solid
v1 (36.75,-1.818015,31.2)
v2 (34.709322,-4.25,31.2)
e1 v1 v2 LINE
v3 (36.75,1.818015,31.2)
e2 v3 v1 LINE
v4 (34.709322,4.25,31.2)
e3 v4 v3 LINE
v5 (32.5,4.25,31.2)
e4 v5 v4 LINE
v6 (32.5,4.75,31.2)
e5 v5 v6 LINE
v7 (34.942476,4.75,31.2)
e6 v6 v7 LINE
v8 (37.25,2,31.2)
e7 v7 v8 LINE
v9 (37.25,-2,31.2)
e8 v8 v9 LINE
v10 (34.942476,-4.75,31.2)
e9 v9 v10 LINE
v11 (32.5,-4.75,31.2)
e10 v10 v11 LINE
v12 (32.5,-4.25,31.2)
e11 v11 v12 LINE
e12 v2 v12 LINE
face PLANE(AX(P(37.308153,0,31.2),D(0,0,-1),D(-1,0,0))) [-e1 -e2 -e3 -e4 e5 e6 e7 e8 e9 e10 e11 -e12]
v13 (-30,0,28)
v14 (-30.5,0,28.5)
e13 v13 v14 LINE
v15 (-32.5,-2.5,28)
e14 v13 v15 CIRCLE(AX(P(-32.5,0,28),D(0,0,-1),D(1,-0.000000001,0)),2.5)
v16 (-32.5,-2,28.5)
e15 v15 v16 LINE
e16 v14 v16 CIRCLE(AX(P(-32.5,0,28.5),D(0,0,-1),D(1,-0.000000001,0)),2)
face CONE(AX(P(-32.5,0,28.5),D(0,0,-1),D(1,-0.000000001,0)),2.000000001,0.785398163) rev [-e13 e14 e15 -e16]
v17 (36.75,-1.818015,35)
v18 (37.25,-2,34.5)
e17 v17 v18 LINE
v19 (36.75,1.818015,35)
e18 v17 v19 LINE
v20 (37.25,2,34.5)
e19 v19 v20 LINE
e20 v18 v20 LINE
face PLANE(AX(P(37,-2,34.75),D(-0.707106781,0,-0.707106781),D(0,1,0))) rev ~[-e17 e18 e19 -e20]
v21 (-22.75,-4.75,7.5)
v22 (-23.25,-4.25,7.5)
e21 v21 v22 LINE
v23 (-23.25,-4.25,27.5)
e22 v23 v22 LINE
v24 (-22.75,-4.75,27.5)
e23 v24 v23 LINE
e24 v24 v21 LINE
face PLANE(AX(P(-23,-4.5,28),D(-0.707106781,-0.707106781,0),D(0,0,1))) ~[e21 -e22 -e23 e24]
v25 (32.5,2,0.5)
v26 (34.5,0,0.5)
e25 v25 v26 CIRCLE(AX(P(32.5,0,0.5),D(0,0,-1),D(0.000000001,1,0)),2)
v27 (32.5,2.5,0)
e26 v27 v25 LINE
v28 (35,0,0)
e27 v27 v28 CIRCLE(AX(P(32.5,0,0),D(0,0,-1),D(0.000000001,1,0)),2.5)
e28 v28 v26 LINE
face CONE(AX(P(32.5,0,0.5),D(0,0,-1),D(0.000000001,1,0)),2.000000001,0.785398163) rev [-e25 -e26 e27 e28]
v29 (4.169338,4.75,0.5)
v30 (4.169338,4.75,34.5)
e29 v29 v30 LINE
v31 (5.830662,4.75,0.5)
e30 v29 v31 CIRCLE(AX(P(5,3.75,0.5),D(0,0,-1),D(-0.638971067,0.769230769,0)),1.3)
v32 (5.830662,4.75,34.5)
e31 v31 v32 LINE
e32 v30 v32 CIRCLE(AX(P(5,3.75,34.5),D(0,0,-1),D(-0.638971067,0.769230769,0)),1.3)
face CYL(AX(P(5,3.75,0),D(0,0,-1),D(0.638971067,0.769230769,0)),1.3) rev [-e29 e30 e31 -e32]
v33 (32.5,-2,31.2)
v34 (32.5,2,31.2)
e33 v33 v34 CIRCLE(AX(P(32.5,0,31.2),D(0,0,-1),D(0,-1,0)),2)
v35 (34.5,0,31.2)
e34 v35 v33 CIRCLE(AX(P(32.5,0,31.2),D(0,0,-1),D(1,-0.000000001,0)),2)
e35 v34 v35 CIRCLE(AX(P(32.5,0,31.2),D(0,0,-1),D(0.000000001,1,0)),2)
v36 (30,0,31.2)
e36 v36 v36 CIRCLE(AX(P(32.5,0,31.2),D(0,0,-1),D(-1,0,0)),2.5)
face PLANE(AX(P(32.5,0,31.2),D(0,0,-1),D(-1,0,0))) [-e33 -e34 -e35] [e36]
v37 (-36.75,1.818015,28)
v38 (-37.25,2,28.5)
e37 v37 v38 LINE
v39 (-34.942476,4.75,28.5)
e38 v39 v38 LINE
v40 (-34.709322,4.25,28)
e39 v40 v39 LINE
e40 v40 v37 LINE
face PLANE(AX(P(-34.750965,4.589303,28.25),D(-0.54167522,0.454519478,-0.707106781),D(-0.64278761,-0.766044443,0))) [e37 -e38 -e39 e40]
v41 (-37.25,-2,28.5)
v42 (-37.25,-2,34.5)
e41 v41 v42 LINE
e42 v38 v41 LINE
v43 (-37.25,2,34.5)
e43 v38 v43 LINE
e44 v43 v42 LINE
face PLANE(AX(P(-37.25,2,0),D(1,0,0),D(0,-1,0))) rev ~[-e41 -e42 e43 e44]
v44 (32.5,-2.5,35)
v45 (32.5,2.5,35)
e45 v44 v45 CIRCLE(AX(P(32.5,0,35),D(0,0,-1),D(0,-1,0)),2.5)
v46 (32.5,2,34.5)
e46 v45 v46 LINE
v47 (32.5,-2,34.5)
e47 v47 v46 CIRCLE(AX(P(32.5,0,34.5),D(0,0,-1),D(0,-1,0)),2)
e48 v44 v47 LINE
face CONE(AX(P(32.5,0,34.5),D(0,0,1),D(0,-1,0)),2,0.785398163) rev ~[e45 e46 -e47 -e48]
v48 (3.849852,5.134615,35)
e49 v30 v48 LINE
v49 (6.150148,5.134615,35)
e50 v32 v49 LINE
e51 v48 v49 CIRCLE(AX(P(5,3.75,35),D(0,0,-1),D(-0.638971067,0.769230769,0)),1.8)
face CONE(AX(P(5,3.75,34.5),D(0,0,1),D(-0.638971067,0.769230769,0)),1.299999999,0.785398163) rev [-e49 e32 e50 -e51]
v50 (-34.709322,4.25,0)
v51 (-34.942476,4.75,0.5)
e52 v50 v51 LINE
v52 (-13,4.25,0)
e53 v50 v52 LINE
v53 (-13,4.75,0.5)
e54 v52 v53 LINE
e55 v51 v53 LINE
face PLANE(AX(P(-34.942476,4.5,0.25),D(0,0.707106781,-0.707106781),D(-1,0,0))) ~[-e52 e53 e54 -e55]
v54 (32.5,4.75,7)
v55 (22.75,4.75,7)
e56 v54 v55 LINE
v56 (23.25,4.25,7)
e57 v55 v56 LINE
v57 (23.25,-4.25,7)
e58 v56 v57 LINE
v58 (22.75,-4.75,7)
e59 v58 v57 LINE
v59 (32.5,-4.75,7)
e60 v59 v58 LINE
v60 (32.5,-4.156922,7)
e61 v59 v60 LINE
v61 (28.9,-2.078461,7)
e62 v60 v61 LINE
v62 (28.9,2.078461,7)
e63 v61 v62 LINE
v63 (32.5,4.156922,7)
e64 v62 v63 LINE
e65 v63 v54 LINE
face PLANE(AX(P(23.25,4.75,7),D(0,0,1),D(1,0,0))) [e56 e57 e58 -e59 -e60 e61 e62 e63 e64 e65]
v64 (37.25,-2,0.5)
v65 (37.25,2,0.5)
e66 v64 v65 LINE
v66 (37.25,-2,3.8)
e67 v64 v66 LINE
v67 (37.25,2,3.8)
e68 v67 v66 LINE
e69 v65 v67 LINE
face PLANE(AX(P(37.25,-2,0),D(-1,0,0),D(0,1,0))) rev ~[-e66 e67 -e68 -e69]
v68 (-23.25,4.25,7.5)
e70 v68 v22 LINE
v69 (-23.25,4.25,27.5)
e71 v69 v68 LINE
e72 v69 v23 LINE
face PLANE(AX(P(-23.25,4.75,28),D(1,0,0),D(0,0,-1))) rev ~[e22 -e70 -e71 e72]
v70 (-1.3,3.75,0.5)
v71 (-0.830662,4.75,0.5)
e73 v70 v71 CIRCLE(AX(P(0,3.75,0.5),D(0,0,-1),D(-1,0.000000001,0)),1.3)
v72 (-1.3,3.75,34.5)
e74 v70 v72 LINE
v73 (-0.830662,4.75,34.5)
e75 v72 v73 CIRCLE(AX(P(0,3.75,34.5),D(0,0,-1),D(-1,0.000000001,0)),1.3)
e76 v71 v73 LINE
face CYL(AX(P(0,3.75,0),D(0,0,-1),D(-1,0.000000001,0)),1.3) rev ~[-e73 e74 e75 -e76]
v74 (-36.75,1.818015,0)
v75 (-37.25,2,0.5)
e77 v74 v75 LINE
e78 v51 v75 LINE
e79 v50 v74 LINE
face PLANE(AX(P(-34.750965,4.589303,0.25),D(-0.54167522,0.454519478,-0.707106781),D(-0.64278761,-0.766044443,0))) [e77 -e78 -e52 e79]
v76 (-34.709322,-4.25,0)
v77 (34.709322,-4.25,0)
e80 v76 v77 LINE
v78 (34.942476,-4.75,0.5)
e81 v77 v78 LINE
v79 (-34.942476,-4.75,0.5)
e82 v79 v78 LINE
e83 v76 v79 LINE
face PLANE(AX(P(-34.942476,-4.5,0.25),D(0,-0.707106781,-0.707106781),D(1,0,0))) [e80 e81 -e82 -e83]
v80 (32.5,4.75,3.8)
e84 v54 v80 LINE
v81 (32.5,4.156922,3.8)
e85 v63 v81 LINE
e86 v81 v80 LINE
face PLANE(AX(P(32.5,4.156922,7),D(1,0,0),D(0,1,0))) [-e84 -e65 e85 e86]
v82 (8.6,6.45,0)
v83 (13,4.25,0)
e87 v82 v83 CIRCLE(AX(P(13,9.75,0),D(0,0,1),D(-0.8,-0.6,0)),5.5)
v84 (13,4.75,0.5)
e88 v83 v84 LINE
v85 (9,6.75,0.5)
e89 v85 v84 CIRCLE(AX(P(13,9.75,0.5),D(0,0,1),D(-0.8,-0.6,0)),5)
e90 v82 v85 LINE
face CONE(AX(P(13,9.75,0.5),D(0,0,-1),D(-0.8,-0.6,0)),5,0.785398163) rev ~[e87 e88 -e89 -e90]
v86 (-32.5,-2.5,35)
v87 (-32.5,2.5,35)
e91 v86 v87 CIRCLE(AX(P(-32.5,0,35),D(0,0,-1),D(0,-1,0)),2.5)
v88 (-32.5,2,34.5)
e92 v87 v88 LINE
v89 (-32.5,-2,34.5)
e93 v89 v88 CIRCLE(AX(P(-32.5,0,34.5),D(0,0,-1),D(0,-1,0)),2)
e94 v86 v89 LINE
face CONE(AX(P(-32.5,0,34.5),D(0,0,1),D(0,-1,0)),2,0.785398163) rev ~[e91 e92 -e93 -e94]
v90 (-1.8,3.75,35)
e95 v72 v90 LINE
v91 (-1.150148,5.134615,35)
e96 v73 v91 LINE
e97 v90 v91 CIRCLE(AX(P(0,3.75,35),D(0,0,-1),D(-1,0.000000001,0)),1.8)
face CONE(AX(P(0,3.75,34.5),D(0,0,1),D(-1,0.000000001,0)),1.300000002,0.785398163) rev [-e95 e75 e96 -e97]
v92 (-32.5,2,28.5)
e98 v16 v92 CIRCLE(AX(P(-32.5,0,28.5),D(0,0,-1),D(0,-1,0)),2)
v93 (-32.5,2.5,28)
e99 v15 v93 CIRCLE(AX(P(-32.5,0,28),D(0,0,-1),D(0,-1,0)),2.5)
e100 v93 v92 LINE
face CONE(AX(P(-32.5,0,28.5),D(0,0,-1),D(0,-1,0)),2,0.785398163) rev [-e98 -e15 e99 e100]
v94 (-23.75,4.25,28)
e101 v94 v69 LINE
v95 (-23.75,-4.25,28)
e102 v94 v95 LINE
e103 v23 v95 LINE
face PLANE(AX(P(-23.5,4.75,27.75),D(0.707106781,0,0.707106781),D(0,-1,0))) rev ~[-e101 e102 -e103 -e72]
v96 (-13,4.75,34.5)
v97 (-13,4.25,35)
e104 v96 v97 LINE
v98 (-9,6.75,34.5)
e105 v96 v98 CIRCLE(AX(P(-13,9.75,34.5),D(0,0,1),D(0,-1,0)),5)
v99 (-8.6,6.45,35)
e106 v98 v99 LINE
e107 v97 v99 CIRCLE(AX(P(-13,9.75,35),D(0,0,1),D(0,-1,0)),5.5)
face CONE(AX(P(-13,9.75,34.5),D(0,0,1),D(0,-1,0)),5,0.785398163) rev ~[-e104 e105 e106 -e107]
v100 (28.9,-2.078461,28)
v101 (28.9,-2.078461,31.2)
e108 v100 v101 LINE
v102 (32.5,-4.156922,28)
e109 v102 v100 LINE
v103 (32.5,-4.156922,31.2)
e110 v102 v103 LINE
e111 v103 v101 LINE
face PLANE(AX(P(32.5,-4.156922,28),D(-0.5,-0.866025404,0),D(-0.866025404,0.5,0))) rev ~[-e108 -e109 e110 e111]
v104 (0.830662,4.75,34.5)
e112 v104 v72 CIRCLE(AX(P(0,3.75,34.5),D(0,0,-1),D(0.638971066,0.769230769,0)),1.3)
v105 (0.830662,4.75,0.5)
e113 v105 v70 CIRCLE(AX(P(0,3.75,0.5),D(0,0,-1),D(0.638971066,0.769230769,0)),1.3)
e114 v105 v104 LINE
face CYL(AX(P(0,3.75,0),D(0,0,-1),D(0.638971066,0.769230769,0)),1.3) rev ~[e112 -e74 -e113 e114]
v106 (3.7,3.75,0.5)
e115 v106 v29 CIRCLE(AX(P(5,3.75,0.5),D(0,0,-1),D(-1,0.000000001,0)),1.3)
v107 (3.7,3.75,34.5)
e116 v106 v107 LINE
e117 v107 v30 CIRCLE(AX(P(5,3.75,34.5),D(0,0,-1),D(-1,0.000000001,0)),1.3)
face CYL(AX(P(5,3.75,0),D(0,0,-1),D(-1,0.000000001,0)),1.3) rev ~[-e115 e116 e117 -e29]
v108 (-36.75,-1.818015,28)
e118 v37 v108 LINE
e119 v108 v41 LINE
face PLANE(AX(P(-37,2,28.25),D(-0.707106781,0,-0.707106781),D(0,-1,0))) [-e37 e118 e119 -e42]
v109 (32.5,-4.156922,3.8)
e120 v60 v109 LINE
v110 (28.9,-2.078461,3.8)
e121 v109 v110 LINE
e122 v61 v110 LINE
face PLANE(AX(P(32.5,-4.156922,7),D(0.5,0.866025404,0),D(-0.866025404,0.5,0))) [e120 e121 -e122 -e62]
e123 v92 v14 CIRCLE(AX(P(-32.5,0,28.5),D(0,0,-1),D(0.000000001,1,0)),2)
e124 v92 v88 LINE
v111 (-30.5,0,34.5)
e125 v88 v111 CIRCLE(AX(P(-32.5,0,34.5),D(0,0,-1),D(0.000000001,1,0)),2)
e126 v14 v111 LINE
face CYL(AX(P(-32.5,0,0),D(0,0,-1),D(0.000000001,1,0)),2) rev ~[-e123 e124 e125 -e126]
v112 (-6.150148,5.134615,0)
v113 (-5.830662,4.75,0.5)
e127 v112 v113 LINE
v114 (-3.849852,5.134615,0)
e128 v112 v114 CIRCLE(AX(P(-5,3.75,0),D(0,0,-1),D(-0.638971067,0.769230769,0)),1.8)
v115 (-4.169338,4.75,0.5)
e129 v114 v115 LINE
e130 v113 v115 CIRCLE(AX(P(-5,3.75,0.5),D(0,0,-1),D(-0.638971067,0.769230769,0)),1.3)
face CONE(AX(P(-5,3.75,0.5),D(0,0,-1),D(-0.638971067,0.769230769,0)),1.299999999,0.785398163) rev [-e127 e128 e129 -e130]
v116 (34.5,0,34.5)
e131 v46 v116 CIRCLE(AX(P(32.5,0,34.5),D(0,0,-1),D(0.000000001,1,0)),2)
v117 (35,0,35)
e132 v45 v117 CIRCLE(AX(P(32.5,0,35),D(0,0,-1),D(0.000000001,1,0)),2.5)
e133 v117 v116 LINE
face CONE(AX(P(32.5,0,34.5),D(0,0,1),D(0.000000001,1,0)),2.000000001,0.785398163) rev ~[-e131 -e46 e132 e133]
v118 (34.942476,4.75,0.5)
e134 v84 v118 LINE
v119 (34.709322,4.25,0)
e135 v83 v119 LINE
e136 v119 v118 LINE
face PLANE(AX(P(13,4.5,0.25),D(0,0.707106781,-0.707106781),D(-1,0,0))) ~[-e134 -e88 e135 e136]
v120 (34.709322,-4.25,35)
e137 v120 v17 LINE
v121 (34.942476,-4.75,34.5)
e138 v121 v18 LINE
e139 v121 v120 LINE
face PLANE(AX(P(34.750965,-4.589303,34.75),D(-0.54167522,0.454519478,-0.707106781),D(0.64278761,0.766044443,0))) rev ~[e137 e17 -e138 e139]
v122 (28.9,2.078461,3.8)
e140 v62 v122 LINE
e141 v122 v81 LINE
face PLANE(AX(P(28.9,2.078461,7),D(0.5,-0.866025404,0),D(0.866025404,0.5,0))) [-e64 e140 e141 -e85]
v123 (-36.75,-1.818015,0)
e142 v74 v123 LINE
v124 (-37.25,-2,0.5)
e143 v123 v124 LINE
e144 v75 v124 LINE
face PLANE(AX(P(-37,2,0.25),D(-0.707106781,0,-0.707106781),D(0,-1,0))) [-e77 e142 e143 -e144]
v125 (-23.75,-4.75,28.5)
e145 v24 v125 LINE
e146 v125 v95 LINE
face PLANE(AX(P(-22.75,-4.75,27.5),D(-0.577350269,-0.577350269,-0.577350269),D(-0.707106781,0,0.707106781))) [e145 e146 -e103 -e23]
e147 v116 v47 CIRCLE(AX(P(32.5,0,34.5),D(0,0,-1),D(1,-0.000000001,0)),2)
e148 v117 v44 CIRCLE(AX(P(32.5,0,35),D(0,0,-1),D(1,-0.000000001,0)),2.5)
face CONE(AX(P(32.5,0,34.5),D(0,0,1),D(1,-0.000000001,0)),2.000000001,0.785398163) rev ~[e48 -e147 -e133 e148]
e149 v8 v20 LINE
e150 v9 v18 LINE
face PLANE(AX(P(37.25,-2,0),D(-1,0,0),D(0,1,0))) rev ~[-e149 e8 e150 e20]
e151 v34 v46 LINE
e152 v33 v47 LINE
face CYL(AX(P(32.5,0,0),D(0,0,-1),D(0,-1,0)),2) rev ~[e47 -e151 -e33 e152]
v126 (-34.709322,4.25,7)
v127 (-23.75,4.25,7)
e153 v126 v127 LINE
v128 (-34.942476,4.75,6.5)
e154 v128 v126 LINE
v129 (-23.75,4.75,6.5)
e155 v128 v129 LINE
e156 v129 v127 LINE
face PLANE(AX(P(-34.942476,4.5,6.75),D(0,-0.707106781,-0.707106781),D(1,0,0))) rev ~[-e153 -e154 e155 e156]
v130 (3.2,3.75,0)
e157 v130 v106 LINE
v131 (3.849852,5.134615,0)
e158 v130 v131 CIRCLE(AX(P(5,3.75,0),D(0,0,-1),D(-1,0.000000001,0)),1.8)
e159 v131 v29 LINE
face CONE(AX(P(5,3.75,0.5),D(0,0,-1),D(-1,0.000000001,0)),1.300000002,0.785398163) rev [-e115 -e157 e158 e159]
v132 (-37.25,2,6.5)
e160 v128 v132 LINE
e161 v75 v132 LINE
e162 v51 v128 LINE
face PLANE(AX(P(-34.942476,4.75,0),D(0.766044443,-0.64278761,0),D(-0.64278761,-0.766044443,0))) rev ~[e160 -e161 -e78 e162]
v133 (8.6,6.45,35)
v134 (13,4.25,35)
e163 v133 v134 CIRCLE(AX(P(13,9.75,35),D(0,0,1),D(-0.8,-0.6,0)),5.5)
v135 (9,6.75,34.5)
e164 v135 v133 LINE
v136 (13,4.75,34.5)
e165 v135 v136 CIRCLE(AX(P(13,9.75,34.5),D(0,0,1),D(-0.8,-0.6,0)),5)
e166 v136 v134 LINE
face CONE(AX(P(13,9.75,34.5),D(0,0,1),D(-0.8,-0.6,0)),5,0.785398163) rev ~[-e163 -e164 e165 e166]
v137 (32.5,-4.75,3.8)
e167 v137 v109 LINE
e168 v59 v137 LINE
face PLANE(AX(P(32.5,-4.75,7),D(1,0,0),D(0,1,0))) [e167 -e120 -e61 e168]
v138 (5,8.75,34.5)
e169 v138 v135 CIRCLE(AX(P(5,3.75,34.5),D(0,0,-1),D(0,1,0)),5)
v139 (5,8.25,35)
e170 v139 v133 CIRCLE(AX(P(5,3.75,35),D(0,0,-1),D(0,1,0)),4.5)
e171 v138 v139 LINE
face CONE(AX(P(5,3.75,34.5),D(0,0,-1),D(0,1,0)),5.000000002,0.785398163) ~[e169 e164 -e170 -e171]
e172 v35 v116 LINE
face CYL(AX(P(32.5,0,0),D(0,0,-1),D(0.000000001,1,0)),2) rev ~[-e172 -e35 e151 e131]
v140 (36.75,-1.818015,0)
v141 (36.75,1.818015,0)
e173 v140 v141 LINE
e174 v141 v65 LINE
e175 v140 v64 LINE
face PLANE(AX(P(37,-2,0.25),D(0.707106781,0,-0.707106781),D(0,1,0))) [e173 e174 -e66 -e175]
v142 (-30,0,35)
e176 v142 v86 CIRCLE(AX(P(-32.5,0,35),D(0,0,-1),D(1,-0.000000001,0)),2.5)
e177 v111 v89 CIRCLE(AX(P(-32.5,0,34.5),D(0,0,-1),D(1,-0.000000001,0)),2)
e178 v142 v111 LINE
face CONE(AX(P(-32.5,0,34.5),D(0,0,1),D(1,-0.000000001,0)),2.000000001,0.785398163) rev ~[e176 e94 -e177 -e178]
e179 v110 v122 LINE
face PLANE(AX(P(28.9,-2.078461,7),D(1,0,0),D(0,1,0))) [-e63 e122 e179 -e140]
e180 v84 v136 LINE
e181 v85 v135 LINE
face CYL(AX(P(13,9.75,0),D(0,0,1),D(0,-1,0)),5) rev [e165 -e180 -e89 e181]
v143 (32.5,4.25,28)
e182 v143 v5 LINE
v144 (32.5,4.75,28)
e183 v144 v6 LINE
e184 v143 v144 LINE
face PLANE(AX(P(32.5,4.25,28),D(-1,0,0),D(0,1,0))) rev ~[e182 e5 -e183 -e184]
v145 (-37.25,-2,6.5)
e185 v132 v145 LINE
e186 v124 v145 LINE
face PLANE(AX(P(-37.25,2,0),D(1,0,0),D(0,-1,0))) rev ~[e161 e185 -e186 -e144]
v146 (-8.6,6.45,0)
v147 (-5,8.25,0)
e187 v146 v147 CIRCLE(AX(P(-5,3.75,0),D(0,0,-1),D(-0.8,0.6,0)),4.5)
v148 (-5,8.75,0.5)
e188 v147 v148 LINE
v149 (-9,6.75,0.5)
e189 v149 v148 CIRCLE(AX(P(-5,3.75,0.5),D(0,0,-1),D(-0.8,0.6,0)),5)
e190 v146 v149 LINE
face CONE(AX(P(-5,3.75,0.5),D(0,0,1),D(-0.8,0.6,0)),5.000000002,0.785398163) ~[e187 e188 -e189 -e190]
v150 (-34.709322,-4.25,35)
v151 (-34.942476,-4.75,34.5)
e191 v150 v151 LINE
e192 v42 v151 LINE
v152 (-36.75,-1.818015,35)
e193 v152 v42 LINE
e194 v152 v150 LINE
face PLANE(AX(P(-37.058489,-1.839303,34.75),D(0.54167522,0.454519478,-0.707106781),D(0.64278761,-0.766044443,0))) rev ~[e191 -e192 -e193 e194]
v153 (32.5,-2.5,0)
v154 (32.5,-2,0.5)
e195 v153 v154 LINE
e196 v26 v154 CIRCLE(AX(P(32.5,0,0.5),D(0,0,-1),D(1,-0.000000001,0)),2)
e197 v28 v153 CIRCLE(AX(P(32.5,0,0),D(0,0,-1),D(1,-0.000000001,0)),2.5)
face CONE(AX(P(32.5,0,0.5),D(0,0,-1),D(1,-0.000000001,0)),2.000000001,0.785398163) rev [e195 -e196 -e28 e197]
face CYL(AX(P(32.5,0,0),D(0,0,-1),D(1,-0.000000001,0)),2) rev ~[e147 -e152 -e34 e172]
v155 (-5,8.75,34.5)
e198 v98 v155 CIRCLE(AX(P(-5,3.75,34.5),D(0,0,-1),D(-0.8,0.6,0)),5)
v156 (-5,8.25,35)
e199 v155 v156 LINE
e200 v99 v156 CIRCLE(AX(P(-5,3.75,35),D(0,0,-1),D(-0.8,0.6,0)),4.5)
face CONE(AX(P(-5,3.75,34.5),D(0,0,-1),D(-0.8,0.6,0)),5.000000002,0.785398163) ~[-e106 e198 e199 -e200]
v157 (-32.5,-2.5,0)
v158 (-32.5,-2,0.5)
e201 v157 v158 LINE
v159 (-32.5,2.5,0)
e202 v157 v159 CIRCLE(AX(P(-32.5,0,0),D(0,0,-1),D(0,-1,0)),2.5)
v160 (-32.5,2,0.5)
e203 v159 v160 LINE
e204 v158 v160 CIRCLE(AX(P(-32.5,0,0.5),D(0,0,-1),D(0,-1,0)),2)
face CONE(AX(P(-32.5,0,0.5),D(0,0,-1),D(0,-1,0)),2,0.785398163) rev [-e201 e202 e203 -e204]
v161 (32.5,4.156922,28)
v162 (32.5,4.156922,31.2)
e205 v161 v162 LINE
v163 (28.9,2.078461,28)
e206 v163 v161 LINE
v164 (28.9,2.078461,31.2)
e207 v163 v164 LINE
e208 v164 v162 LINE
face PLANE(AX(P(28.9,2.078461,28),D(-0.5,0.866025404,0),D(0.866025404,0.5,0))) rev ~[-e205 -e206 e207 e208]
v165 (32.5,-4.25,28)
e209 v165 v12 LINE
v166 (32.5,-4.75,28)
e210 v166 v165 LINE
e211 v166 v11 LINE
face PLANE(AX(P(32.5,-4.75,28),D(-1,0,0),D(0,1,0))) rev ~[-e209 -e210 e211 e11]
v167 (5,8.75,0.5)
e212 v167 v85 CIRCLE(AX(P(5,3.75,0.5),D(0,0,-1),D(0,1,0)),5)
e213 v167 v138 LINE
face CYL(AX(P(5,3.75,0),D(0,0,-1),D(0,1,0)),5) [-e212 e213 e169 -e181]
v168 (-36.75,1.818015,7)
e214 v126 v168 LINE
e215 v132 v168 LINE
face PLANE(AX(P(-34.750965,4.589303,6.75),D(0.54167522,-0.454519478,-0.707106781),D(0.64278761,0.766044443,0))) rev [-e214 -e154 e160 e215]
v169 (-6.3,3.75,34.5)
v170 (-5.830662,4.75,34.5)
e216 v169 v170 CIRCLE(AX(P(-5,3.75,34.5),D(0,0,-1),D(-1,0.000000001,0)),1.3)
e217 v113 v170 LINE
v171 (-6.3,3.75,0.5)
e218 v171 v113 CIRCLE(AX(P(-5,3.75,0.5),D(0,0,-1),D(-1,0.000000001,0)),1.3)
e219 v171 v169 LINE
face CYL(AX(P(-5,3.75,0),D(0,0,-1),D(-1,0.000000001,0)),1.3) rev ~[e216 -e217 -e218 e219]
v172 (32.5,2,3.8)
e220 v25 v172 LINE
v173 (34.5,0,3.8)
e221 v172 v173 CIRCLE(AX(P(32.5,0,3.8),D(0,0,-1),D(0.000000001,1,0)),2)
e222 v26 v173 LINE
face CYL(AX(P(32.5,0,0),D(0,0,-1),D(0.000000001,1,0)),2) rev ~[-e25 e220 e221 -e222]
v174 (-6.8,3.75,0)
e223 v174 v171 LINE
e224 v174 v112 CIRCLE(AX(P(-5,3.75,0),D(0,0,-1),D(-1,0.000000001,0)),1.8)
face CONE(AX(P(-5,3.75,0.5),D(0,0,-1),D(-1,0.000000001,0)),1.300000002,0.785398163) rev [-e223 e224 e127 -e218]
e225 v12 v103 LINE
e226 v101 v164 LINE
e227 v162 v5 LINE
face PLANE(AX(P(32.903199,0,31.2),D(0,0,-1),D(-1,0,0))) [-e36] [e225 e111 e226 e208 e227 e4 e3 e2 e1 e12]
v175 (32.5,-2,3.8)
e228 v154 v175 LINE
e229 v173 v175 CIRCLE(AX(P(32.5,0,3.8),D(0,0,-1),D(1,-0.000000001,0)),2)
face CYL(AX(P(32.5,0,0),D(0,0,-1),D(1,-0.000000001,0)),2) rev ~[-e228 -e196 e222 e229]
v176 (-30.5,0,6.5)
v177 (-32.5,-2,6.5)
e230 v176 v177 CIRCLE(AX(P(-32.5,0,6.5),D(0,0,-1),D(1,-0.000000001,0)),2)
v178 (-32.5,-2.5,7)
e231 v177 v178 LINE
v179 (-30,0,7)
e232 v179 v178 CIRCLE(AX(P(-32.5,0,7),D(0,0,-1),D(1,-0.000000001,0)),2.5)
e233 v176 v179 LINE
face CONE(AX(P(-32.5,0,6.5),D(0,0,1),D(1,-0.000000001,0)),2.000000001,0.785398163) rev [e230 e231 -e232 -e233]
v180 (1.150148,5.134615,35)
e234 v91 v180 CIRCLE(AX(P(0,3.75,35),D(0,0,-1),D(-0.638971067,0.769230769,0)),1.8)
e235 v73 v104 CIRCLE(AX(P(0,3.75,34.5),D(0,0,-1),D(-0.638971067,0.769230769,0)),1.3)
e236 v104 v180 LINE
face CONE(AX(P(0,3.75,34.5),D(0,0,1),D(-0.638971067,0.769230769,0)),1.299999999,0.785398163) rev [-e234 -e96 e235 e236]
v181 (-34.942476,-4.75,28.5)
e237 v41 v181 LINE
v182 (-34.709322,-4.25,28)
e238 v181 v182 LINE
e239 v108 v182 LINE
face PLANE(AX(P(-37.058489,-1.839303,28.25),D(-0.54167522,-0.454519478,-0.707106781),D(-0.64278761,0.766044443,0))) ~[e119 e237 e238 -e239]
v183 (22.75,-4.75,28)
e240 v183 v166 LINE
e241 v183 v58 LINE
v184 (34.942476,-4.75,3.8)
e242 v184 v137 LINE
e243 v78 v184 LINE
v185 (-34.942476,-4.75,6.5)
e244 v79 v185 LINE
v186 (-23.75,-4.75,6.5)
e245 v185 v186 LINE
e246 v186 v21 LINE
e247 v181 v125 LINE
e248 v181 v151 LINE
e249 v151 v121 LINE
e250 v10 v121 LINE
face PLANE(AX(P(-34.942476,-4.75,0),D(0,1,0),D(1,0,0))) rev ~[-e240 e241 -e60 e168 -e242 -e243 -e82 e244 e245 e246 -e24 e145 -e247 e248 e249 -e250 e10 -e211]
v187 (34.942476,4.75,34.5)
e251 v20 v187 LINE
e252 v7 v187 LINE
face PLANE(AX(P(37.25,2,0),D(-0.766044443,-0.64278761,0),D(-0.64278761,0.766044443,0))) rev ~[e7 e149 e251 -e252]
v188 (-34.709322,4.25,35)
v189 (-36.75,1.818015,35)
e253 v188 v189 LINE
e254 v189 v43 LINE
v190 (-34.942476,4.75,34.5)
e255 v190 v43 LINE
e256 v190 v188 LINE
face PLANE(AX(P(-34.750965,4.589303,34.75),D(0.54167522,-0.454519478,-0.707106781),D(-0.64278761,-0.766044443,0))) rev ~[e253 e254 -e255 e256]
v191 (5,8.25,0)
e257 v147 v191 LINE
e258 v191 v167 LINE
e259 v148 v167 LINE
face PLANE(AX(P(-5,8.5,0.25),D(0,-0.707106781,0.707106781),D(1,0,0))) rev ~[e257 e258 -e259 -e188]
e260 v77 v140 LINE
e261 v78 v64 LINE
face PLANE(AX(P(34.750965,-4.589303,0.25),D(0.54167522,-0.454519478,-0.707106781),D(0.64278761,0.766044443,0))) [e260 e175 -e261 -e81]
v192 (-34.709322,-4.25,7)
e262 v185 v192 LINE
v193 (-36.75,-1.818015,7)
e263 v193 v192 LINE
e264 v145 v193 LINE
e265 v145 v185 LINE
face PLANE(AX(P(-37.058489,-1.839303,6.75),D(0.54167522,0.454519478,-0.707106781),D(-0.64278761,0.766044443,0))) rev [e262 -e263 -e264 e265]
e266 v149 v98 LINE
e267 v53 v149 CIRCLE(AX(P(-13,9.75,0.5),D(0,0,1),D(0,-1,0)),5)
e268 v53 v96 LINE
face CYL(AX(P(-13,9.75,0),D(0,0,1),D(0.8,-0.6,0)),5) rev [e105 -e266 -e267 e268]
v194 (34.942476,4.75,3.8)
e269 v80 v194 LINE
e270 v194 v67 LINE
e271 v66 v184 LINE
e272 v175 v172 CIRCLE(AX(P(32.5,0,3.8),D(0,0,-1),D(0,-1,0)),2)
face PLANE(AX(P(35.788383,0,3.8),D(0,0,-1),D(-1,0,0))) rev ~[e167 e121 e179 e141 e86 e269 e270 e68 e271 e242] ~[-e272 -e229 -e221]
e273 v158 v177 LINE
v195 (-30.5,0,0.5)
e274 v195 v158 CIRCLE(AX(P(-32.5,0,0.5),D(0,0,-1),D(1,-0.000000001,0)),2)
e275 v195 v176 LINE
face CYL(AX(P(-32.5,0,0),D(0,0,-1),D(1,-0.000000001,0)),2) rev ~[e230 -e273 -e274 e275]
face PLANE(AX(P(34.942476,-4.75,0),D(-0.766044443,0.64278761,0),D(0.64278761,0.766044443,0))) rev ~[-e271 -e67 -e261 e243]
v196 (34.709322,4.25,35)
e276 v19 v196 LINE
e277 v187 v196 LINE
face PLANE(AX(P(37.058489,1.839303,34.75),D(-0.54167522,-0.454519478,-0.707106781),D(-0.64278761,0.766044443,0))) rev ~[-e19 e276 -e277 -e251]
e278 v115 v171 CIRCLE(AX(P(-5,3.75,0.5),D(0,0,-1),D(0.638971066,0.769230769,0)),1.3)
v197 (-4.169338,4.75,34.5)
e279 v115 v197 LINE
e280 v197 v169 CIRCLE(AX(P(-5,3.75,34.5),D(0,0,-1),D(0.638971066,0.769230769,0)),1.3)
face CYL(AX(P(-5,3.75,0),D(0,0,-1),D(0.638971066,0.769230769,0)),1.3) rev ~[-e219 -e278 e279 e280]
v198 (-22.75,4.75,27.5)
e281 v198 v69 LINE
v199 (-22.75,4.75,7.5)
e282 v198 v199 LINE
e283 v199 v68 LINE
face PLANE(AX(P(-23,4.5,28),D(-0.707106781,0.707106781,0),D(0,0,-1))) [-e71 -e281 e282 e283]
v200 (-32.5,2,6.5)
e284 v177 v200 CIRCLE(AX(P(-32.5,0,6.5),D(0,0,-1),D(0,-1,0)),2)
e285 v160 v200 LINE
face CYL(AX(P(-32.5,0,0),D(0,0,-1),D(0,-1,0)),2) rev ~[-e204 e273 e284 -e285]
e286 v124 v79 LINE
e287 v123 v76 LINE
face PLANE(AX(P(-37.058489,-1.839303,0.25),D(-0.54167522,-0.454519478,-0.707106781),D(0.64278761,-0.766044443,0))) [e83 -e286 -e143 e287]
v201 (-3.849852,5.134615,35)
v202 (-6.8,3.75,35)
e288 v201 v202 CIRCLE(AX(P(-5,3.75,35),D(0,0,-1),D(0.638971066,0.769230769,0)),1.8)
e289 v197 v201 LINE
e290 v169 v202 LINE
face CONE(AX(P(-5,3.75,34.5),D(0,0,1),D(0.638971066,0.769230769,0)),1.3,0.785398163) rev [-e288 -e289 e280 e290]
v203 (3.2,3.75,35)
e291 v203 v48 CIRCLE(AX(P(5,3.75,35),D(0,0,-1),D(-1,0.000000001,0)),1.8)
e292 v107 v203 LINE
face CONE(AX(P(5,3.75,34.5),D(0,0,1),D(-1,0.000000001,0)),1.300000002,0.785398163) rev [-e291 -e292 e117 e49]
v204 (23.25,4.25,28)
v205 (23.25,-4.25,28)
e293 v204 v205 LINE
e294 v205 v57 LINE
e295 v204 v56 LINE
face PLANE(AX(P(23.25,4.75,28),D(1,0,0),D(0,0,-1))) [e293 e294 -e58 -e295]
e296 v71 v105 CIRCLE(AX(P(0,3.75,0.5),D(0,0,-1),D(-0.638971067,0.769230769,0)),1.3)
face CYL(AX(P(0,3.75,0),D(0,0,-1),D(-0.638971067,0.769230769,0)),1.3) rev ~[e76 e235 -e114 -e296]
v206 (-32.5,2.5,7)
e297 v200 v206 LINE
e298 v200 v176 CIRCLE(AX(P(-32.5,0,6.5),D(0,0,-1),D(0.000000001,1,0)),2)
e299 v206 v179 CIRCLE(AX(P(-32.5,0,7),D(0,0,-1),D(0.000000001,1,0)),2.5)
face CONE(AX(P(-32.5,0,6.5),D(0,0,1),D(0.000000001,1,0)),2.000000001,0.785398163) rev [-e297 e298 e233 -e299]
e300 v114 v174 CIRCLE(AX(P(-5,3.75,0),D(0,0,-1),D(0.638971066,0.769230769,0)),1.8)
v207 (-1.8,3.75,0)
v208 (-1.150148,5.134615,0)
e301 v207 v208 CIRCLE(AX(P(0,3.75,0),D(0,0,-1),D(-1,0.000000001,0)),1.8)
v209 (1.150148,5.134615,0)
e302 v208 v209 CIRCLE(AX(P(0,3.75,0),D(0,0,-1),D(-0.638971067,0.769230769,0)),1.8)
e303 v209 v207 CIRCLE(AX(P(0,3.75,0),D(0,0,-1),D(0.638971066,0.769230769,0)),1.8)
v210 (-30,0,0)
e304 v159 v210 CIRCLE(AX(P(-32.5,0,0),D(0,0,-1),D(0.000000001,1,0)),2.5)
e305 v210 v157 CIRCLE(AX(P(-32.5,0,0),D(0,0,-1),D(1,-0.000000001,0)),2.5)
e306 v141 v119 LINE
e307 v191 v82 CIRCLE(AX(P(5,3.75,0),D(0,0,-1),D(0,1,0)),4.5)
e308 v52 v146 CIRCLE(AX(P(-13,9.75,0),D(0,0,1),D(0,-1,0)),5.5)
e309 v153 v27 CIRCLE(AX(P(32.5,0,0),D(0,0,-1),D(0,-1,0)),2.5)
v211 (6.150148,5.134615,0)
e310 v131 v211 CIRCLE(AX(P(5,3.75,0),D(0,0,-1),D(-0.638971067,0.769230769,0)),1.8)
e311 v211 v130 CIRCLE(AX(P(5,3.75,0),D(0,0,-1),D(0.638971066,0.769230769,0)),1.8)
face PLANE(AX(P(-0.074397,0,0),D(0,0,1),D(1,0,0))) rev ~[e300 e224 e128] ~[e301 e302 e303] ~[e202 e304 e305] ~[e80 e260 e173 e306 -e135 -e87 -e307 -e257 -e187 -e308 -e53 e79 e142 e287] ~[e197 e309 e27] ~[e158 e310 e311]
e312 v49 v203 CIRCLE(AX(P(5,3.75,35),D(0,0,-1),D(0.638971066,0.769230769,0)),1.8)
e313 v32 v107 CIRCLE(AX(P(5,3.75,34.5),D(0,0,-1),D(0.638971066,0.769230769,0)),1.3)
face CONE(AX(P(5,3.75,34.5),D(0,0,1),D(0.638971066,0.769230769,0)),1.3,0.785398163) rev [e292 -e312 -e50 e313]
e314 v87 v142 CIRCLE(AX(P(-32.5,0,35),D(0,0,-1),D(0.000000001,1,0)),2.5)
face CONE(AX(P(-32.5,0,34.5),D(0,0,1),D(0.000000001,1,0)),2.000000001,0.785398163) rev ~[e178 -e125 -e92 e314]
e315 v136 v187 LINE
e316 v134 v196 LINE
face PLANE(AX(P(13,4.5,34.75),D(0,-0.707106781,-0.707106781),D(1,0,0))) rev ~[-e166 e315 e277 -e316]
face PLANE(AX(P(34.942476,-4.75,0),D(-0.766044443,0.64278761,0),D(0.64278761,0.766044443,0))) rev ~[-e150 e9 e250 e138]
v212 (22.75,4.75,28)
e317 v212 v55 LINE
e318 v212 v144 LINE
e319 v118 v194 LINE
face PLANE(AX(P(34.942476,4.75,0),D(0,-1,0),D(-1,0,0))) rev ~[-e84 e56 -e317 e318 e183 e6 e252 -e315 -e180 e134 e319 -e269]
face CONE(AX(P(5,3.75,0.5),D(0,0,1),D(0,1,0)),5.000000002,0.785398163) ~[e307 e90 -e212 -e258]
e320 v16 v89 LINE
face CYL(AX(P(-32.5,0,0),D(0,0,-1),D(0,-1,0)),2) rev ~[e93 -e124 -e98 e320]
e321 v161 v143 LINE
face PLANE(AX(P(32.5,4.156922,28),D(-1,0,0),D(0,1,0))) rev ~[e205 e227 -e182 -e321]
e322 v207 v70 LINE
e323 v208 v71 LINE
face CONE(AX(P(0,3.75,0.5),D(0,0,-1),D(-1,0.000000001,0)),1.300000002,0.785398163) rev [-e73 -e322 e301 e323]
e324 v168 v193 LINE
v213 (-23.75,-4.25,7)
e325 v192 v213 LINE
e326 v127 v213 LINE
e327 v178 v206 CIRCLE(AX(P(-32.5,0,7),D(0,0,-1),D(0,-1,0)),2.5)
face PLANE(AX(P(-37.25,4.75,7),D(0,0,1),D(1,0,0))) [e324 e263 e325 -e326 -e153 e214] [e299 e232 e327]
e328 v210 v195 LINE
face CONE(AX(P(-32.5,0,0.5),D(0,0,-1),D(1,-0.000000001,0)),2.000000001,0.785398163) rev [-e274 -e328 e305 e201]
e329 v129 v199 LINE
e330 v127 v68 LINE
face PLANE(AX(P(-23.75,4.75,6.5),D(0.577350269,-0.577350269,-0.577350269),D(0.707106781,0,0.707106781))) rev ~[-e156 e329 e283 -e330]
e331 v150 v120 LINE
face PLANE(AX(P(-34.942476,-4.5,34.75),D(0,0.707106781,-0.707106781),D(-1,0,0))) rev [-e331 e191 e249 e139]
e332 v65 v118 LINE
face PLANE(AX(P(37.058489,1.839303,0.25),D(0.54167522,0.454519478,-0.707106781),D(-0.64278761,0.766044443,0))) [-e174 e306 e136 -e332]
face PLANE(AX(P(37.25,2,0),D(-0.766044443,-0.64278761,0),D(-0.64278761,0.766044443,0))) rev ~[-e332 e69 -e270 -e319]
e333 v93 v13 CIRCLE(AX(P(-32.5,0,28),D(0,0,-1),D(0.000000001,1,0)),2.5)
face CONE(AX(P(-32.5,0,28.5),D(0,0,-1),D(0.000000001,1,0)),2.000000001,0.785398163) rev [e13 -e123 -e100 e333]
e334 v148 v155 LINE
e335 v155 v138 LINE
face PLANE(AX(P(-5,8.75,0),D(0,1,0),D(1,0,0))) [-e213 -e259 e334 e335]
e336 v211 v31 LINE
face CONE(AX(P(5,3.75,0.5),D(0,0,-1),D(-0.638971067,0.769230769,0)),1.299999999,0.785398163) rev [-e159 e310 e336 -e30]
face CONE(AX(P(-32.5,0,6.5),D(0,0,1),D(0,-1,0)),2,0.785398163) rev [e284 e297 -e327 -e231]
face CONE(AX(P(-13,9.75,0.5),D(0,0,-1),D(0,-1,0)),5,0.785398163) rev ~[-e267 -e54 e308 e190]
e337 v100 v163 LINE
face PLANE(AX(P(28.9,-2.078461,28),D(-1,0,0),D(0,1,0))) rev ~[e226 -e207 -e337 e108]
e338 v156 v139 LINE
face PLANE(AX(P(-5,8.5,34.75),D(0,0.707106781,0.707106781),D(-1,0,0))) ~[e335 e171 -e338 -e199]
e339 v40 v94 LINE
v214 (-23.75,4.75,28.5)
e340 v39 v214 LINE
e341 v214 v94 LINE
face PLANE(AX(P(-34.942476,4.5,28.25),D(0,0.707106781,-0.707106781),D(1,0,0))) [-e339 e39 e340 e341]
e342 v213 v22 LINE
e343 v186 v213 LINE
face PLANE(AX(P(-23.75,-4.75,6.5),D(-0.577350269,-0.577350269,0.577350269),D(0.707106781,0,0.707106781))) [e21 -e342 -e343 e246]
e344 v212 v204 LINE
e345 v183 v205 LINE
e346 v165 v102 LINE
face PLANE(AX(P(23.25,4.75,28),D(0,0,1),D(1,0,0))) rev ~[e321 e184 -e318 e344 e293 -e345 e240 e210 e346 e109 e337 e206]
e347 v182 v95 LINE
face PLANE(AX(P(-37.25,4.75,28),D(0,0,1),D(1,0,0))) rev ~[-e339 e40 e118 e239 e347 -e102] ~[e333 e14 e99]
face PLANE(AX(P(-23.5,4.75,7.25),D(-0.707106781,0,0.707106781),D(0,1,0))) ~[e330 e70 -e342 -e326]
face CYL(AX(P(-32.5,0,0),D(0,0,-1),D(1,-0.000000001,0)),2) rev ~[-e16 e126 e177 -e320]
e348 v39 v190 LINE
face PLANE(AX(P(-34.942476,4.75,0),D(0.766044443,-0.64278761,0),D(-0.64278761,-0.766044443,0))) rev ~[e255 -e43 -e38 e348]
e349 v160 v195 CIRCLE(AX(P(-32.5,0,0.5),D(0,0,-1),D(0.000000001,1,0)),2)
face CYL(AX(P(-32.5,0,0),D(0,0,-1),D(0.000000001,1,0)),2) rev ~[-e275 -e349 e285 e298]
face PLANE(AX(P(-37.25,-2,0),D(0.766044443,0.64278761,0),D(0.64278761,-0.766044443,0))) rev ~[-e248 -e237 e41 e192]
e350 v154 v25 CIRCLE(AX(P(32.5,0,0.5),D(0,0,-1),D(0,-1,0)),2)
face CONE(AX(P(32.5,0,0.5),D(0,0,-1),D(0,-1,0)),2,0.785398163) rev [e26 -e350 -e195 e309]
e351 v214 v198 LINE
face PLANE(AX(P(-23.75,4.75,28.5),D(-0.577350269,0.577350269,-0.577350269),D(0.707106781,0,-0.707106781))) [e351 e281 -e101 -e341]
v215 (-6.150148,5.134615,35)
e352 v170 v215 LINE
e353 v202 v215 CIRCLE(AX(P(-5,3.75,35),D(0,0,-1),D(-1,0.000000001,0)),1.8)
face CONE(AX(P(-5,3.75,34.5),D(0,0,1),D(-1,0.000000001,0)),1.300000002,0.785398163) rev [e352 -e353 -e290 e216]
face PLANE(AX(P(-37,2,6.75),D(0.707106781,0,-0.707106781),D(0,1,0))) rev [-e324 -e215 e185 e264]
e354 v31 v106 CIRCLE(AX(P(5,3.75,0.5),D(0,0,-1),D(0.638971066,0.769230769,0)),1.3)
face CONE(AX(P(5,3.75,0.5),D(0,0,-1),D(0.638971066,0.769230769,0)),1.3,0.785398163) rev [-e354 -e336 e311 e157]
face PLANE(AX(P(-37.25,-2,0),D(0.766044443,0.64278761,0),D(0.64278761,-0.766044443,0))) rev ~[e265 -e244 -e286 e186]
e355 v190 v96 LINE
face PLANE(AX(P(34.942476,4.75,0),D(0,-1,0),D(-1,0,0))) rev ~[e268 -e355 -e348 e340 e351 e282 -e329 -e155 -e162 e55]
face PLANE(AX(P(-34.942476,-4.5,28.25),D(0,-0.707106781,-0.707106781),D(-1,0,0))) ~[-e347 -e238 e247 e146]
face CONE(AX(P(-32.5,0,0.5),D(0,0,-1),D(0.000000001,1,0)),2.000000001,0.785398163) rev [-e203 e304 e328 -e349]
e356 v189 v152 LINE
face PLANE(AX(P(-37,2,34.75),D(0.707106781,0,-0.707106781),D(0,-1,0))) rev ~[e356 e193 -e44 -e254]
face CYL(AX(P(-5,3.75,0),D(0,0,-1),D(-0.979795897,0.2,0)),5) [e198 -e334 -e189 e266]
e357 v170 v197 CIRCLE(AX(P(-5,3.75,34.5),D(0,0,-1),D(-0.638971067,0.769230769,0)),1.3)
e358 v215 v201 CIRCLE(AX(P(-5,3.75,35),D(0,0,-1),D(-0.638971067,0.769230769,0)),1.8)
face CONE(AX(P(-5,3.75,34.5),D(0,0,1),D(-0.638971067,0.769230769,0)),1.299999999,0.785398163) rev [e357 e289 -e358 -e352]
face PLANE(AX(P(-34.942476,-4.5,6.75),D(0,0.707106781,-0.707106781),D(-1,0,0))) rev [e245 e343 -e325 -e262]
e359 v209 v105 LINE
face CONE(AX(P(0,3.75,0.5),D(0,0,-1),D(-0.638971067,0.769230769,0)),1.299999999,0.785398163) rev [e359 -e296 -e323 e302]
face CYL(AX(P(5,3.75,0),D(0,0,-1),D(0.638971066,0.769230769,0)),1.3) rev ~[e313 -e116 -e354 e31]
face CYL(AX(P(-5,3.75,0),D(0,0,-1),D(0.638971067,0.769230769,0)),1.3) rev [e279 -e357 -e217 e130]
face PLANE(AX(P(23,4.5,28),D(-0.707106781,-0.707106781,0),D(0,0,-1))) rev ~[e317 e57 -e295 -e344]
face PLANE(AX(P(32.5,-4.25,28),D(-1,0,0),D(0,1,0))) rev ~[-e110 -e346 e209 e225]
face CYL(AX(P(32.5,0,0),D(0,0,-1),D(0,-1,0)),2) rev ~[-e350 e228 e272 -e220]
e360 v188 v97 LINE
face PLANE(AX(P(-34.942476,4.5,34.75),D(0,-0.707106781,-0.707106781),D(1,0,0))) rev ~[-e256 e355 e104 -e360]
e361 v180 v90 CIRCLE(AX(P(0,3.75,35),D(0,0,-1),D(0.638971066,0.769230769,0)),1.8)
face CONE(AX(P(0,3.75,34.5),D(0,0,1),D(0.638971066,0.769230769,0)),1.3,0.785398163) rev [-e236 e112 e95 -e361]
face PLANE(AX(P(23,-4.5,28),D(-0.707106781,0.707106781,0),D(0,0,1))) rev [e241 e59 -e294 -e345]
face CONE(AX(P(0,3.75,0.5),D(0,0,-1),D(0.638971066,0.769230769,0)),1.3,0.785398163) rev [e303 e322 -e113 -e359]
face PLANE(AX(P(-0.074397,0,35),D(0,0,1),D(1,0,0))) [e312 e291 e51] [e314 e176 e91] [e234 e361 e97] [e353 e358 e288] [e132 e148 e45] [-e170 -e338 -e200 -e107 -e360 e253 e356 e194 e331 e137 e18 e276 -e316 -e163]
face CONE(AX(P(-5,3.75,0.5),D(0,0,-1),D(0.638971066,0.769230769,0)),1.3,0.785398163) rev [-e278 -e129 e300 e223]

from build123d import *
from build123d.topology import SkipClean

# Parameters (mm, degrees)
BOSS_EXTRUDE1_DEPTH = 35
SKETCH2_W           = 14
SKETCH2_H           = 21
CUT_EXTRUDE1_DEPTH  = 35
BOSS_EXTRUDE2_DEPTH = 35
CUT_EXTRUDE2_DEPTH  = 58
FILLET1_R           = 5
CHAMFER2_SIZE       = 0.5
CHAMFER3_SIZE       = 0.5
CUT_EXTRUDE3_START  = -7
CUT_EXTRUDE3_DEPTH  = 3.2
CUT_EXTRUDE4_START  = -28
SKETCH4_3_R         = 2.5
CUT_EXTRUDE4_DEPTH  = 3.2


with BuildPart() as part:
    # Sketch1 → Boss-Extrude1 (new body)
    with BuildSketch(Plane.XY):
        with BuildLine():
            ThreePointArc((32.5, -4.75), (27.75, 0), (32.5, 4.75))
            Line((32.5, 4.75), (-32.5, 4.75))
            ThreePointArc((-32.5, 4.75), (-29.141242789, 3.358757211), (-27.75, 0))
            ThreePointArc((-27.75, 0), (-29.141242789, -3.358757211), (-32.5, -4.75))
            Line((-32.5, -4.75), (32.5, -4.75))
        make_face()
        with BuildLine():
            ThreePointArc((-27.75, 0), (-29.141242789, 3.358757211), (-32.5, 4.75))
            Line((-32.5, 4.75), (-32.5, 2))
            ThreePointArc((-32.5, 2), (-31.085786438, 1.414213562), (-30.5, 0))
            ThreePointArc((-30.5, 0), (-31.085786438, -1.414213562), (-32.5, -2))
            Line((-32.5, -2), (-32.5, -4.75))
            ThreePointArc((-32.5, -4.75), (-29.141242789, -3.358757211), (-27.75, 0))
        make_face()
        with BuildLine():
            Line((-32.5, 2), (-32.5, 4.75))
            ThreePointArc((-32.5, 4.75), (-35.858757211, 3.358757211), (-37.25, 0))
            ThreePointArc((-37.25, 0), (-35.858757211, -3.358757211), (-32.5, -4.75))
            Line((-32.5, -4.75), (-32.5, -2))
            ThreePointArc((-32.5, -2), (-34.5, 0), (-32.5, 2))
        make_face()
        with BuildLine():
            ThreePointArc((32.5, -4.75), (35.858757211, -3.358757211), (37.25, 0))
            ThreePointArc((37.25, 0), (35.858757211, 3.358757211), (32.5, 4.75))
            Line((32.5, 4.75), (32.5, 2))
            ThreePointArc((32.5, 2), (33.914213562, 1.414213562), (34.5, 0))
            ThreePointArc((34.5, 0), (33.914213562, -1.414213562), (32.5, -2))
            Line((32.5, -2), (32.5, -4.75))
        make_face()
        with BuildLine():
            Line((32.5, 2), (32.5, 4.75))
            ThreePointArc((32.5, 4.75), (27.75, 0), (32.5, -4.75))
            Line((32.5, -4.75), (32.5, -2))
            ThreePointArc((32.5, -2), (30.5, 0), (32.5, 2))
        make_face()
        with BuildLine():
            ThreePointArc((-37.25, 0), (-35.858757211, 3.358757211), (-32.5, 4.75))
            Line((-32.5, 4.75), (-34.942476014, 4.75))
            Line((-34.942476014, 4.75), (-37.25, 2))
            Line((-37.25, 2), (-37.25, 0))
        make_face()
        with BuildLine():
            Line((-34.942476014, -4.75), (-32.5, -4.75))
            ThreePointArc((-32.5, -4.75), (-35.858757211, -3.358757211), (-37.25, 0))
            Line((-37.25, 0), (-37.25, -2))
            Line((-37.25, -2), (-34.942476014, -4.75))
        make_face()
        with BuildLine():
            Line((37.25, 0), (37.25, 2))
            Line((37.25, 2), (34.942476014, 4.75))
            Line((34.942476014, 4.75), (32.5, 4.75))
            ThreePointArc((32.5, 4.75), (35.858757211, 3.358757211), (37.25, 0))
        make_face()
        with BuildLine():
            Line((37.25, -2), (37.25, 0))
            ThreePointArc((37.25, 0), (35.858757211, -3.358757211), (32.5, -4.75))
            Line((32.5, -4.75), (34.942476014, -4.75))
            Line((34.942476014, -4.75), (37.25, -2))
        make_face()
    extrude(amount=BOSS_EXTRUDE1_DEPTH)

    # Sketch2 → Cut-Extrude1 (cut)
    with BuildSketch(Plane(origin=(0, 4.75, 0), x_dir=(1, 0, 0), z_dir=(0, 1, 0))):
        with Locations((30.25, -17.5)):
            Rectangle(SKETCH2_W, SKETCH2_H)
        with Locations((-30.25, -17.5)):
            Rectangle(SKETCH2_W, SKETCH2_H)
    extrude(amount=-CUT_EXTRUDE1_DEPTH, mode=Mode.SUBTRACT)

    # Sketch3 → Boss-Extrude2 (add)
    with BuildSketch(Plane(origin=(0, 0, 0), x_dir=(-1, 0, 0), z_dir=(0, 0, -1))):
        with BuildLine():
            ThreePointArc((-5, 8.75), (-8.16227766, 7.622983346), (-9.898979486, 4.75))
            Line((-9.898979486, 4.75), (-5.830662386, 4.75))
            ThreePointArc((-5.830662386, 4.75), (-5, 5.05), (-4.169337614, 4.75))
            Line((-4.169337614, 4.75), (4.169337614, 4.75))
            ThreePointArc((4.169337614, 4.75), (5, 5.05), (5.830662386, 4.75))
            Line((5.830662386, 4.75), (9.898979486, 4.75))
            ThreePointArc((9.898979486, 4.75), (8.16227766, 7.622983346), (5, 8.75))
            Line((5, 8.75), (-5, 8.75))
        make_face()
    extrude(amount=-BOSS_EXTRUDE2_DEPTH)

    # Sketch3<2> → Cut-Extrude2 (cut)
    with SkipClean():  # the faces are left unmerged after this step: merging them gives an invalid solid
        with BuildSketch(Plane(origin=(0, 0, 0), x_dir=(-1, 0, 0), z_dir=(0, 0, -1))):
            with BuildLine():
                Line((0.830662386, 4.75), (-0.830662386, 4.75))
                ThreePointArc((-0.830662386, 4.75), (-0.552330923, 2.573169277), (1.3, 3.75))
                ThreePointArc((1.3, 3.75), (1.176830723, 4.302330923), (0.830662386, 4.75))
            make_face()
            with BuildLine():
                ThreePointArc((0.830662386, 4.75), (0, 5.05), (-0.830662386, 4.75))
                Line((-0.830662386, 4.75), (0.830662386, 4.75))
            make_face()
            with BuildLine():
                Line((-4.169337614, 4.75), (-5.830662386, 4.75))
                ThreePointArc((-5.830662386, 4.75), (-5.552330923, 2.573169277), (-3.7, 3.75))
                ThreePointArc((-3.7, 3.75), (-3.823169277, 4.302330923), (-4.169337614, 4.75))
            make_face()
            with BuildLine():
                ThreePointArc((-4.169337614, 4.75), (-5, 5.05), (-5.830662386, 4.75))
                Line((-5.830662386, 4.75), (-4.169337614, 4.75))
            make_face()
            with BuildLine():
                Line((4.169337614, 4.75), (5.830662386, 4.75))
                ThreePointArc((5.830662386, 4.75), (5, 5.05), (4.169337614, 4.75))
            make_face()
            with BuildLine():
                ThreePointArc((6.3, 3.75), (6.176830723, 4.302330923), (5.830662386, 4.75))
                Line((5.830662386, 4.75), (4.169337614, 4.75))
                ThreePointArc((4.169337614, 4.75), (4.447669077, 2.573169277), (6.3, 3.75))
            make_face()
        extrude(amount=-CUT_EXTRUDE2_DEPTH, mode=Mode.SUBTRACT)

    # Fillet1
    fillet1_edges = [part.edges().sort_by_distance(p)[0] for p in [
        (-9.898979486, 4.75, 17.5),
        (9.898979486, 4.75, 17.5),
    ]]
    fillet(fillet1_edges, radius=FILLET1_R)

    # Chamfer2
    chamfer2_edges = [part.edges().sort_by_distance(p)[0] for p in [
        (-6.176830723, 4.302330923, 0),
        (3.823169277, 4.302330923, 0),
        (7.236067977, 8.222135955, 35),
        (0, 8.75, 0),
        (7.236067977, 8.222135955, 0),
        (-4.447669077, 2.573169277, 35),
        (5.552330923, 2.573169277, 35),
        (0, 8.75, 35),
        (-23.971238007, 4.75, 35),
        (-32.5, -2, 0),
        (36.096238007, 3.375, 0),
        (37.25, 0, 0),
        (1.3, 3.75, 35),
        (1.3, 3.75, 0),
        (36.096238007, -3.375, 0),
        (0, -4.75, 0),
        (23.971238007, 4.75, 35),
        (23.971238007, 4.75, 0),
        (-7.236067977, 8.222135955, 35),
        (-7.236067977, 8.222135955, 0),
        (10.763932023, 5.277864045, 0),
        (10.763932023, 5.277864045, 35),
        (-10.763932023, 5.277864045, 0),
        (-10.763932023, 5.277864045, 35),
        (-36.096238007, -3.375, 0),
        (-37.25, 0, 0),
        (-36.096238007, 3.375, 0),
        (-23.971238007, 4.75, 0),
        (32.5, -2, 0),
        (-36.096238007, 3.375, 35),
        (-37.25, 0, 35),
        (-36.096238007, -3.375, 35),
        (0, -4.75, 35),
        (-23.25, -4.75, 17.5),
        (36.096238007, -3.375, 35),
        (37.25, 0, 35),
        (36.096238007, 3.375, 35),
        (-32.5, -2, 35),
        (32.5, -2, 35),
        (-37.25, 0, 28),
        (-23.25, 0, 7),
        (-36.096238007, 3.375, 7),
        (-29.096238007, -4.75, 7),
        (-36.096238007, -3.375, 7),
        (-37.25, 0, 7),
        (-32.5, -2, 7),
        (-36.096238007, 3.375, 28),
        (-36.096238007, -3.375, 28),
        (-29.096238007, -4.75, 28),
        (-23.25, 0, 28),
        (-32.5, -2, 28),
        (-29.096238007, 4.75, 7),
        (-29.096238007, 4.75, 28),
        (-23.25, 4.75, 17.5),
    ]]
    chamfer(chamfer2_edges, length=CHAMFER2_SIZE)

    # Chamfer3
    chamfer3_edges = [part.edges().sort_by_distance(p)[0] for p in [
        (23.25, -4.75, 17.5),
        (23.25, 4.75, 17.5),
    ]]
    chamfer(chamfer3_edges, length=CHAMFER3_SIZE)

    # Sketch4 → Cut-Extrude3 (cut)
    with SkipClean():  # the faces are left unmerged after this step: merging them gives an invalid solid
        with BuildSketch(Plane(origin=(0, 0, 0), x_dir=(-1, 0, 0), z_dir=(0, 0, -1)).offset(CUT_EXTRUDE3_START)):
            Polygon((-28.9, -2.078460969), (-28.9, 2.078460969), (-32.5, 4.156921938), (-32.5, 4.75), (-41.441027027, 4.75), (-41.441027027, -4.75), (-32.5, -4.75), (-32.5, -4.156921938), align=None)
        extrude(amount=CUT_EXTRUDE3_DEPTH, mode=Mode.SUBTRACT)

    # Sketch4<3> → Cut-Extrude4 (cut)
    # profile 1 of 3: a face of its own
    with SkipClean():  # the faces are left unmerged after this step: merging them gives an invalid solid
        with BuildSketch(Plane(origin=(0, 0, 0), x_dir=(-1, 0, 0), z_dir=(0, 0, -1)).offset(CUT_EXTRUDE4_START)):
            Polygon((-28.9, -2.078460969), (-28.9, 2.078460969), (-32.5, 4.156921938), (-32.5, 4.25), (-34.709322185, 4.25), (-36.75, 1.818014883), (-36.75, -1.818014883), (-34.709322185, -4.25), (-32.5, -4.25), (-32.5, -4.156921938), align=None)
            with Locations((-32.5, 0)):
                Circle(SKETCH4_3_R, mode=Mode.SUBTRACT)
        # profile 2 of 3: a face of its own
        with BuildSketch(Plane(origin=(0, 0, 0), x_dir=(-1, 0, 0), z_dir=(0, 0, -1)).offset(CUT_EXTRUDE4_START)):
            with Locations((-32.5, 0)):
                Circle(SKETCH4_3_R)
        # profile 3 of 3: a face of its own
        with BuildSketch(Plane(origin=(0, 0, 0), x_dir=(-1, 0, 0), z_dir=(0, 0, -1)).offset(CUT_EXTRUDE4_START)):
            Polygon((-34.709322185, 4.25), (-32.5, 4.25), (-32.5, 4.75), (-41.441027027, 4.75), (-41.441027027, -4.75), (-32.5, -4.75), (-32.5, -4.25), (-34.709322185, -4.25), (-36.75, -1.818014883), (-36.75, 1.818014883), align=None)
        extrude(amount=-CUT_EXTRUDE4_DEPTH, mode=Mode.SUBTRACT)


solid = part.part
